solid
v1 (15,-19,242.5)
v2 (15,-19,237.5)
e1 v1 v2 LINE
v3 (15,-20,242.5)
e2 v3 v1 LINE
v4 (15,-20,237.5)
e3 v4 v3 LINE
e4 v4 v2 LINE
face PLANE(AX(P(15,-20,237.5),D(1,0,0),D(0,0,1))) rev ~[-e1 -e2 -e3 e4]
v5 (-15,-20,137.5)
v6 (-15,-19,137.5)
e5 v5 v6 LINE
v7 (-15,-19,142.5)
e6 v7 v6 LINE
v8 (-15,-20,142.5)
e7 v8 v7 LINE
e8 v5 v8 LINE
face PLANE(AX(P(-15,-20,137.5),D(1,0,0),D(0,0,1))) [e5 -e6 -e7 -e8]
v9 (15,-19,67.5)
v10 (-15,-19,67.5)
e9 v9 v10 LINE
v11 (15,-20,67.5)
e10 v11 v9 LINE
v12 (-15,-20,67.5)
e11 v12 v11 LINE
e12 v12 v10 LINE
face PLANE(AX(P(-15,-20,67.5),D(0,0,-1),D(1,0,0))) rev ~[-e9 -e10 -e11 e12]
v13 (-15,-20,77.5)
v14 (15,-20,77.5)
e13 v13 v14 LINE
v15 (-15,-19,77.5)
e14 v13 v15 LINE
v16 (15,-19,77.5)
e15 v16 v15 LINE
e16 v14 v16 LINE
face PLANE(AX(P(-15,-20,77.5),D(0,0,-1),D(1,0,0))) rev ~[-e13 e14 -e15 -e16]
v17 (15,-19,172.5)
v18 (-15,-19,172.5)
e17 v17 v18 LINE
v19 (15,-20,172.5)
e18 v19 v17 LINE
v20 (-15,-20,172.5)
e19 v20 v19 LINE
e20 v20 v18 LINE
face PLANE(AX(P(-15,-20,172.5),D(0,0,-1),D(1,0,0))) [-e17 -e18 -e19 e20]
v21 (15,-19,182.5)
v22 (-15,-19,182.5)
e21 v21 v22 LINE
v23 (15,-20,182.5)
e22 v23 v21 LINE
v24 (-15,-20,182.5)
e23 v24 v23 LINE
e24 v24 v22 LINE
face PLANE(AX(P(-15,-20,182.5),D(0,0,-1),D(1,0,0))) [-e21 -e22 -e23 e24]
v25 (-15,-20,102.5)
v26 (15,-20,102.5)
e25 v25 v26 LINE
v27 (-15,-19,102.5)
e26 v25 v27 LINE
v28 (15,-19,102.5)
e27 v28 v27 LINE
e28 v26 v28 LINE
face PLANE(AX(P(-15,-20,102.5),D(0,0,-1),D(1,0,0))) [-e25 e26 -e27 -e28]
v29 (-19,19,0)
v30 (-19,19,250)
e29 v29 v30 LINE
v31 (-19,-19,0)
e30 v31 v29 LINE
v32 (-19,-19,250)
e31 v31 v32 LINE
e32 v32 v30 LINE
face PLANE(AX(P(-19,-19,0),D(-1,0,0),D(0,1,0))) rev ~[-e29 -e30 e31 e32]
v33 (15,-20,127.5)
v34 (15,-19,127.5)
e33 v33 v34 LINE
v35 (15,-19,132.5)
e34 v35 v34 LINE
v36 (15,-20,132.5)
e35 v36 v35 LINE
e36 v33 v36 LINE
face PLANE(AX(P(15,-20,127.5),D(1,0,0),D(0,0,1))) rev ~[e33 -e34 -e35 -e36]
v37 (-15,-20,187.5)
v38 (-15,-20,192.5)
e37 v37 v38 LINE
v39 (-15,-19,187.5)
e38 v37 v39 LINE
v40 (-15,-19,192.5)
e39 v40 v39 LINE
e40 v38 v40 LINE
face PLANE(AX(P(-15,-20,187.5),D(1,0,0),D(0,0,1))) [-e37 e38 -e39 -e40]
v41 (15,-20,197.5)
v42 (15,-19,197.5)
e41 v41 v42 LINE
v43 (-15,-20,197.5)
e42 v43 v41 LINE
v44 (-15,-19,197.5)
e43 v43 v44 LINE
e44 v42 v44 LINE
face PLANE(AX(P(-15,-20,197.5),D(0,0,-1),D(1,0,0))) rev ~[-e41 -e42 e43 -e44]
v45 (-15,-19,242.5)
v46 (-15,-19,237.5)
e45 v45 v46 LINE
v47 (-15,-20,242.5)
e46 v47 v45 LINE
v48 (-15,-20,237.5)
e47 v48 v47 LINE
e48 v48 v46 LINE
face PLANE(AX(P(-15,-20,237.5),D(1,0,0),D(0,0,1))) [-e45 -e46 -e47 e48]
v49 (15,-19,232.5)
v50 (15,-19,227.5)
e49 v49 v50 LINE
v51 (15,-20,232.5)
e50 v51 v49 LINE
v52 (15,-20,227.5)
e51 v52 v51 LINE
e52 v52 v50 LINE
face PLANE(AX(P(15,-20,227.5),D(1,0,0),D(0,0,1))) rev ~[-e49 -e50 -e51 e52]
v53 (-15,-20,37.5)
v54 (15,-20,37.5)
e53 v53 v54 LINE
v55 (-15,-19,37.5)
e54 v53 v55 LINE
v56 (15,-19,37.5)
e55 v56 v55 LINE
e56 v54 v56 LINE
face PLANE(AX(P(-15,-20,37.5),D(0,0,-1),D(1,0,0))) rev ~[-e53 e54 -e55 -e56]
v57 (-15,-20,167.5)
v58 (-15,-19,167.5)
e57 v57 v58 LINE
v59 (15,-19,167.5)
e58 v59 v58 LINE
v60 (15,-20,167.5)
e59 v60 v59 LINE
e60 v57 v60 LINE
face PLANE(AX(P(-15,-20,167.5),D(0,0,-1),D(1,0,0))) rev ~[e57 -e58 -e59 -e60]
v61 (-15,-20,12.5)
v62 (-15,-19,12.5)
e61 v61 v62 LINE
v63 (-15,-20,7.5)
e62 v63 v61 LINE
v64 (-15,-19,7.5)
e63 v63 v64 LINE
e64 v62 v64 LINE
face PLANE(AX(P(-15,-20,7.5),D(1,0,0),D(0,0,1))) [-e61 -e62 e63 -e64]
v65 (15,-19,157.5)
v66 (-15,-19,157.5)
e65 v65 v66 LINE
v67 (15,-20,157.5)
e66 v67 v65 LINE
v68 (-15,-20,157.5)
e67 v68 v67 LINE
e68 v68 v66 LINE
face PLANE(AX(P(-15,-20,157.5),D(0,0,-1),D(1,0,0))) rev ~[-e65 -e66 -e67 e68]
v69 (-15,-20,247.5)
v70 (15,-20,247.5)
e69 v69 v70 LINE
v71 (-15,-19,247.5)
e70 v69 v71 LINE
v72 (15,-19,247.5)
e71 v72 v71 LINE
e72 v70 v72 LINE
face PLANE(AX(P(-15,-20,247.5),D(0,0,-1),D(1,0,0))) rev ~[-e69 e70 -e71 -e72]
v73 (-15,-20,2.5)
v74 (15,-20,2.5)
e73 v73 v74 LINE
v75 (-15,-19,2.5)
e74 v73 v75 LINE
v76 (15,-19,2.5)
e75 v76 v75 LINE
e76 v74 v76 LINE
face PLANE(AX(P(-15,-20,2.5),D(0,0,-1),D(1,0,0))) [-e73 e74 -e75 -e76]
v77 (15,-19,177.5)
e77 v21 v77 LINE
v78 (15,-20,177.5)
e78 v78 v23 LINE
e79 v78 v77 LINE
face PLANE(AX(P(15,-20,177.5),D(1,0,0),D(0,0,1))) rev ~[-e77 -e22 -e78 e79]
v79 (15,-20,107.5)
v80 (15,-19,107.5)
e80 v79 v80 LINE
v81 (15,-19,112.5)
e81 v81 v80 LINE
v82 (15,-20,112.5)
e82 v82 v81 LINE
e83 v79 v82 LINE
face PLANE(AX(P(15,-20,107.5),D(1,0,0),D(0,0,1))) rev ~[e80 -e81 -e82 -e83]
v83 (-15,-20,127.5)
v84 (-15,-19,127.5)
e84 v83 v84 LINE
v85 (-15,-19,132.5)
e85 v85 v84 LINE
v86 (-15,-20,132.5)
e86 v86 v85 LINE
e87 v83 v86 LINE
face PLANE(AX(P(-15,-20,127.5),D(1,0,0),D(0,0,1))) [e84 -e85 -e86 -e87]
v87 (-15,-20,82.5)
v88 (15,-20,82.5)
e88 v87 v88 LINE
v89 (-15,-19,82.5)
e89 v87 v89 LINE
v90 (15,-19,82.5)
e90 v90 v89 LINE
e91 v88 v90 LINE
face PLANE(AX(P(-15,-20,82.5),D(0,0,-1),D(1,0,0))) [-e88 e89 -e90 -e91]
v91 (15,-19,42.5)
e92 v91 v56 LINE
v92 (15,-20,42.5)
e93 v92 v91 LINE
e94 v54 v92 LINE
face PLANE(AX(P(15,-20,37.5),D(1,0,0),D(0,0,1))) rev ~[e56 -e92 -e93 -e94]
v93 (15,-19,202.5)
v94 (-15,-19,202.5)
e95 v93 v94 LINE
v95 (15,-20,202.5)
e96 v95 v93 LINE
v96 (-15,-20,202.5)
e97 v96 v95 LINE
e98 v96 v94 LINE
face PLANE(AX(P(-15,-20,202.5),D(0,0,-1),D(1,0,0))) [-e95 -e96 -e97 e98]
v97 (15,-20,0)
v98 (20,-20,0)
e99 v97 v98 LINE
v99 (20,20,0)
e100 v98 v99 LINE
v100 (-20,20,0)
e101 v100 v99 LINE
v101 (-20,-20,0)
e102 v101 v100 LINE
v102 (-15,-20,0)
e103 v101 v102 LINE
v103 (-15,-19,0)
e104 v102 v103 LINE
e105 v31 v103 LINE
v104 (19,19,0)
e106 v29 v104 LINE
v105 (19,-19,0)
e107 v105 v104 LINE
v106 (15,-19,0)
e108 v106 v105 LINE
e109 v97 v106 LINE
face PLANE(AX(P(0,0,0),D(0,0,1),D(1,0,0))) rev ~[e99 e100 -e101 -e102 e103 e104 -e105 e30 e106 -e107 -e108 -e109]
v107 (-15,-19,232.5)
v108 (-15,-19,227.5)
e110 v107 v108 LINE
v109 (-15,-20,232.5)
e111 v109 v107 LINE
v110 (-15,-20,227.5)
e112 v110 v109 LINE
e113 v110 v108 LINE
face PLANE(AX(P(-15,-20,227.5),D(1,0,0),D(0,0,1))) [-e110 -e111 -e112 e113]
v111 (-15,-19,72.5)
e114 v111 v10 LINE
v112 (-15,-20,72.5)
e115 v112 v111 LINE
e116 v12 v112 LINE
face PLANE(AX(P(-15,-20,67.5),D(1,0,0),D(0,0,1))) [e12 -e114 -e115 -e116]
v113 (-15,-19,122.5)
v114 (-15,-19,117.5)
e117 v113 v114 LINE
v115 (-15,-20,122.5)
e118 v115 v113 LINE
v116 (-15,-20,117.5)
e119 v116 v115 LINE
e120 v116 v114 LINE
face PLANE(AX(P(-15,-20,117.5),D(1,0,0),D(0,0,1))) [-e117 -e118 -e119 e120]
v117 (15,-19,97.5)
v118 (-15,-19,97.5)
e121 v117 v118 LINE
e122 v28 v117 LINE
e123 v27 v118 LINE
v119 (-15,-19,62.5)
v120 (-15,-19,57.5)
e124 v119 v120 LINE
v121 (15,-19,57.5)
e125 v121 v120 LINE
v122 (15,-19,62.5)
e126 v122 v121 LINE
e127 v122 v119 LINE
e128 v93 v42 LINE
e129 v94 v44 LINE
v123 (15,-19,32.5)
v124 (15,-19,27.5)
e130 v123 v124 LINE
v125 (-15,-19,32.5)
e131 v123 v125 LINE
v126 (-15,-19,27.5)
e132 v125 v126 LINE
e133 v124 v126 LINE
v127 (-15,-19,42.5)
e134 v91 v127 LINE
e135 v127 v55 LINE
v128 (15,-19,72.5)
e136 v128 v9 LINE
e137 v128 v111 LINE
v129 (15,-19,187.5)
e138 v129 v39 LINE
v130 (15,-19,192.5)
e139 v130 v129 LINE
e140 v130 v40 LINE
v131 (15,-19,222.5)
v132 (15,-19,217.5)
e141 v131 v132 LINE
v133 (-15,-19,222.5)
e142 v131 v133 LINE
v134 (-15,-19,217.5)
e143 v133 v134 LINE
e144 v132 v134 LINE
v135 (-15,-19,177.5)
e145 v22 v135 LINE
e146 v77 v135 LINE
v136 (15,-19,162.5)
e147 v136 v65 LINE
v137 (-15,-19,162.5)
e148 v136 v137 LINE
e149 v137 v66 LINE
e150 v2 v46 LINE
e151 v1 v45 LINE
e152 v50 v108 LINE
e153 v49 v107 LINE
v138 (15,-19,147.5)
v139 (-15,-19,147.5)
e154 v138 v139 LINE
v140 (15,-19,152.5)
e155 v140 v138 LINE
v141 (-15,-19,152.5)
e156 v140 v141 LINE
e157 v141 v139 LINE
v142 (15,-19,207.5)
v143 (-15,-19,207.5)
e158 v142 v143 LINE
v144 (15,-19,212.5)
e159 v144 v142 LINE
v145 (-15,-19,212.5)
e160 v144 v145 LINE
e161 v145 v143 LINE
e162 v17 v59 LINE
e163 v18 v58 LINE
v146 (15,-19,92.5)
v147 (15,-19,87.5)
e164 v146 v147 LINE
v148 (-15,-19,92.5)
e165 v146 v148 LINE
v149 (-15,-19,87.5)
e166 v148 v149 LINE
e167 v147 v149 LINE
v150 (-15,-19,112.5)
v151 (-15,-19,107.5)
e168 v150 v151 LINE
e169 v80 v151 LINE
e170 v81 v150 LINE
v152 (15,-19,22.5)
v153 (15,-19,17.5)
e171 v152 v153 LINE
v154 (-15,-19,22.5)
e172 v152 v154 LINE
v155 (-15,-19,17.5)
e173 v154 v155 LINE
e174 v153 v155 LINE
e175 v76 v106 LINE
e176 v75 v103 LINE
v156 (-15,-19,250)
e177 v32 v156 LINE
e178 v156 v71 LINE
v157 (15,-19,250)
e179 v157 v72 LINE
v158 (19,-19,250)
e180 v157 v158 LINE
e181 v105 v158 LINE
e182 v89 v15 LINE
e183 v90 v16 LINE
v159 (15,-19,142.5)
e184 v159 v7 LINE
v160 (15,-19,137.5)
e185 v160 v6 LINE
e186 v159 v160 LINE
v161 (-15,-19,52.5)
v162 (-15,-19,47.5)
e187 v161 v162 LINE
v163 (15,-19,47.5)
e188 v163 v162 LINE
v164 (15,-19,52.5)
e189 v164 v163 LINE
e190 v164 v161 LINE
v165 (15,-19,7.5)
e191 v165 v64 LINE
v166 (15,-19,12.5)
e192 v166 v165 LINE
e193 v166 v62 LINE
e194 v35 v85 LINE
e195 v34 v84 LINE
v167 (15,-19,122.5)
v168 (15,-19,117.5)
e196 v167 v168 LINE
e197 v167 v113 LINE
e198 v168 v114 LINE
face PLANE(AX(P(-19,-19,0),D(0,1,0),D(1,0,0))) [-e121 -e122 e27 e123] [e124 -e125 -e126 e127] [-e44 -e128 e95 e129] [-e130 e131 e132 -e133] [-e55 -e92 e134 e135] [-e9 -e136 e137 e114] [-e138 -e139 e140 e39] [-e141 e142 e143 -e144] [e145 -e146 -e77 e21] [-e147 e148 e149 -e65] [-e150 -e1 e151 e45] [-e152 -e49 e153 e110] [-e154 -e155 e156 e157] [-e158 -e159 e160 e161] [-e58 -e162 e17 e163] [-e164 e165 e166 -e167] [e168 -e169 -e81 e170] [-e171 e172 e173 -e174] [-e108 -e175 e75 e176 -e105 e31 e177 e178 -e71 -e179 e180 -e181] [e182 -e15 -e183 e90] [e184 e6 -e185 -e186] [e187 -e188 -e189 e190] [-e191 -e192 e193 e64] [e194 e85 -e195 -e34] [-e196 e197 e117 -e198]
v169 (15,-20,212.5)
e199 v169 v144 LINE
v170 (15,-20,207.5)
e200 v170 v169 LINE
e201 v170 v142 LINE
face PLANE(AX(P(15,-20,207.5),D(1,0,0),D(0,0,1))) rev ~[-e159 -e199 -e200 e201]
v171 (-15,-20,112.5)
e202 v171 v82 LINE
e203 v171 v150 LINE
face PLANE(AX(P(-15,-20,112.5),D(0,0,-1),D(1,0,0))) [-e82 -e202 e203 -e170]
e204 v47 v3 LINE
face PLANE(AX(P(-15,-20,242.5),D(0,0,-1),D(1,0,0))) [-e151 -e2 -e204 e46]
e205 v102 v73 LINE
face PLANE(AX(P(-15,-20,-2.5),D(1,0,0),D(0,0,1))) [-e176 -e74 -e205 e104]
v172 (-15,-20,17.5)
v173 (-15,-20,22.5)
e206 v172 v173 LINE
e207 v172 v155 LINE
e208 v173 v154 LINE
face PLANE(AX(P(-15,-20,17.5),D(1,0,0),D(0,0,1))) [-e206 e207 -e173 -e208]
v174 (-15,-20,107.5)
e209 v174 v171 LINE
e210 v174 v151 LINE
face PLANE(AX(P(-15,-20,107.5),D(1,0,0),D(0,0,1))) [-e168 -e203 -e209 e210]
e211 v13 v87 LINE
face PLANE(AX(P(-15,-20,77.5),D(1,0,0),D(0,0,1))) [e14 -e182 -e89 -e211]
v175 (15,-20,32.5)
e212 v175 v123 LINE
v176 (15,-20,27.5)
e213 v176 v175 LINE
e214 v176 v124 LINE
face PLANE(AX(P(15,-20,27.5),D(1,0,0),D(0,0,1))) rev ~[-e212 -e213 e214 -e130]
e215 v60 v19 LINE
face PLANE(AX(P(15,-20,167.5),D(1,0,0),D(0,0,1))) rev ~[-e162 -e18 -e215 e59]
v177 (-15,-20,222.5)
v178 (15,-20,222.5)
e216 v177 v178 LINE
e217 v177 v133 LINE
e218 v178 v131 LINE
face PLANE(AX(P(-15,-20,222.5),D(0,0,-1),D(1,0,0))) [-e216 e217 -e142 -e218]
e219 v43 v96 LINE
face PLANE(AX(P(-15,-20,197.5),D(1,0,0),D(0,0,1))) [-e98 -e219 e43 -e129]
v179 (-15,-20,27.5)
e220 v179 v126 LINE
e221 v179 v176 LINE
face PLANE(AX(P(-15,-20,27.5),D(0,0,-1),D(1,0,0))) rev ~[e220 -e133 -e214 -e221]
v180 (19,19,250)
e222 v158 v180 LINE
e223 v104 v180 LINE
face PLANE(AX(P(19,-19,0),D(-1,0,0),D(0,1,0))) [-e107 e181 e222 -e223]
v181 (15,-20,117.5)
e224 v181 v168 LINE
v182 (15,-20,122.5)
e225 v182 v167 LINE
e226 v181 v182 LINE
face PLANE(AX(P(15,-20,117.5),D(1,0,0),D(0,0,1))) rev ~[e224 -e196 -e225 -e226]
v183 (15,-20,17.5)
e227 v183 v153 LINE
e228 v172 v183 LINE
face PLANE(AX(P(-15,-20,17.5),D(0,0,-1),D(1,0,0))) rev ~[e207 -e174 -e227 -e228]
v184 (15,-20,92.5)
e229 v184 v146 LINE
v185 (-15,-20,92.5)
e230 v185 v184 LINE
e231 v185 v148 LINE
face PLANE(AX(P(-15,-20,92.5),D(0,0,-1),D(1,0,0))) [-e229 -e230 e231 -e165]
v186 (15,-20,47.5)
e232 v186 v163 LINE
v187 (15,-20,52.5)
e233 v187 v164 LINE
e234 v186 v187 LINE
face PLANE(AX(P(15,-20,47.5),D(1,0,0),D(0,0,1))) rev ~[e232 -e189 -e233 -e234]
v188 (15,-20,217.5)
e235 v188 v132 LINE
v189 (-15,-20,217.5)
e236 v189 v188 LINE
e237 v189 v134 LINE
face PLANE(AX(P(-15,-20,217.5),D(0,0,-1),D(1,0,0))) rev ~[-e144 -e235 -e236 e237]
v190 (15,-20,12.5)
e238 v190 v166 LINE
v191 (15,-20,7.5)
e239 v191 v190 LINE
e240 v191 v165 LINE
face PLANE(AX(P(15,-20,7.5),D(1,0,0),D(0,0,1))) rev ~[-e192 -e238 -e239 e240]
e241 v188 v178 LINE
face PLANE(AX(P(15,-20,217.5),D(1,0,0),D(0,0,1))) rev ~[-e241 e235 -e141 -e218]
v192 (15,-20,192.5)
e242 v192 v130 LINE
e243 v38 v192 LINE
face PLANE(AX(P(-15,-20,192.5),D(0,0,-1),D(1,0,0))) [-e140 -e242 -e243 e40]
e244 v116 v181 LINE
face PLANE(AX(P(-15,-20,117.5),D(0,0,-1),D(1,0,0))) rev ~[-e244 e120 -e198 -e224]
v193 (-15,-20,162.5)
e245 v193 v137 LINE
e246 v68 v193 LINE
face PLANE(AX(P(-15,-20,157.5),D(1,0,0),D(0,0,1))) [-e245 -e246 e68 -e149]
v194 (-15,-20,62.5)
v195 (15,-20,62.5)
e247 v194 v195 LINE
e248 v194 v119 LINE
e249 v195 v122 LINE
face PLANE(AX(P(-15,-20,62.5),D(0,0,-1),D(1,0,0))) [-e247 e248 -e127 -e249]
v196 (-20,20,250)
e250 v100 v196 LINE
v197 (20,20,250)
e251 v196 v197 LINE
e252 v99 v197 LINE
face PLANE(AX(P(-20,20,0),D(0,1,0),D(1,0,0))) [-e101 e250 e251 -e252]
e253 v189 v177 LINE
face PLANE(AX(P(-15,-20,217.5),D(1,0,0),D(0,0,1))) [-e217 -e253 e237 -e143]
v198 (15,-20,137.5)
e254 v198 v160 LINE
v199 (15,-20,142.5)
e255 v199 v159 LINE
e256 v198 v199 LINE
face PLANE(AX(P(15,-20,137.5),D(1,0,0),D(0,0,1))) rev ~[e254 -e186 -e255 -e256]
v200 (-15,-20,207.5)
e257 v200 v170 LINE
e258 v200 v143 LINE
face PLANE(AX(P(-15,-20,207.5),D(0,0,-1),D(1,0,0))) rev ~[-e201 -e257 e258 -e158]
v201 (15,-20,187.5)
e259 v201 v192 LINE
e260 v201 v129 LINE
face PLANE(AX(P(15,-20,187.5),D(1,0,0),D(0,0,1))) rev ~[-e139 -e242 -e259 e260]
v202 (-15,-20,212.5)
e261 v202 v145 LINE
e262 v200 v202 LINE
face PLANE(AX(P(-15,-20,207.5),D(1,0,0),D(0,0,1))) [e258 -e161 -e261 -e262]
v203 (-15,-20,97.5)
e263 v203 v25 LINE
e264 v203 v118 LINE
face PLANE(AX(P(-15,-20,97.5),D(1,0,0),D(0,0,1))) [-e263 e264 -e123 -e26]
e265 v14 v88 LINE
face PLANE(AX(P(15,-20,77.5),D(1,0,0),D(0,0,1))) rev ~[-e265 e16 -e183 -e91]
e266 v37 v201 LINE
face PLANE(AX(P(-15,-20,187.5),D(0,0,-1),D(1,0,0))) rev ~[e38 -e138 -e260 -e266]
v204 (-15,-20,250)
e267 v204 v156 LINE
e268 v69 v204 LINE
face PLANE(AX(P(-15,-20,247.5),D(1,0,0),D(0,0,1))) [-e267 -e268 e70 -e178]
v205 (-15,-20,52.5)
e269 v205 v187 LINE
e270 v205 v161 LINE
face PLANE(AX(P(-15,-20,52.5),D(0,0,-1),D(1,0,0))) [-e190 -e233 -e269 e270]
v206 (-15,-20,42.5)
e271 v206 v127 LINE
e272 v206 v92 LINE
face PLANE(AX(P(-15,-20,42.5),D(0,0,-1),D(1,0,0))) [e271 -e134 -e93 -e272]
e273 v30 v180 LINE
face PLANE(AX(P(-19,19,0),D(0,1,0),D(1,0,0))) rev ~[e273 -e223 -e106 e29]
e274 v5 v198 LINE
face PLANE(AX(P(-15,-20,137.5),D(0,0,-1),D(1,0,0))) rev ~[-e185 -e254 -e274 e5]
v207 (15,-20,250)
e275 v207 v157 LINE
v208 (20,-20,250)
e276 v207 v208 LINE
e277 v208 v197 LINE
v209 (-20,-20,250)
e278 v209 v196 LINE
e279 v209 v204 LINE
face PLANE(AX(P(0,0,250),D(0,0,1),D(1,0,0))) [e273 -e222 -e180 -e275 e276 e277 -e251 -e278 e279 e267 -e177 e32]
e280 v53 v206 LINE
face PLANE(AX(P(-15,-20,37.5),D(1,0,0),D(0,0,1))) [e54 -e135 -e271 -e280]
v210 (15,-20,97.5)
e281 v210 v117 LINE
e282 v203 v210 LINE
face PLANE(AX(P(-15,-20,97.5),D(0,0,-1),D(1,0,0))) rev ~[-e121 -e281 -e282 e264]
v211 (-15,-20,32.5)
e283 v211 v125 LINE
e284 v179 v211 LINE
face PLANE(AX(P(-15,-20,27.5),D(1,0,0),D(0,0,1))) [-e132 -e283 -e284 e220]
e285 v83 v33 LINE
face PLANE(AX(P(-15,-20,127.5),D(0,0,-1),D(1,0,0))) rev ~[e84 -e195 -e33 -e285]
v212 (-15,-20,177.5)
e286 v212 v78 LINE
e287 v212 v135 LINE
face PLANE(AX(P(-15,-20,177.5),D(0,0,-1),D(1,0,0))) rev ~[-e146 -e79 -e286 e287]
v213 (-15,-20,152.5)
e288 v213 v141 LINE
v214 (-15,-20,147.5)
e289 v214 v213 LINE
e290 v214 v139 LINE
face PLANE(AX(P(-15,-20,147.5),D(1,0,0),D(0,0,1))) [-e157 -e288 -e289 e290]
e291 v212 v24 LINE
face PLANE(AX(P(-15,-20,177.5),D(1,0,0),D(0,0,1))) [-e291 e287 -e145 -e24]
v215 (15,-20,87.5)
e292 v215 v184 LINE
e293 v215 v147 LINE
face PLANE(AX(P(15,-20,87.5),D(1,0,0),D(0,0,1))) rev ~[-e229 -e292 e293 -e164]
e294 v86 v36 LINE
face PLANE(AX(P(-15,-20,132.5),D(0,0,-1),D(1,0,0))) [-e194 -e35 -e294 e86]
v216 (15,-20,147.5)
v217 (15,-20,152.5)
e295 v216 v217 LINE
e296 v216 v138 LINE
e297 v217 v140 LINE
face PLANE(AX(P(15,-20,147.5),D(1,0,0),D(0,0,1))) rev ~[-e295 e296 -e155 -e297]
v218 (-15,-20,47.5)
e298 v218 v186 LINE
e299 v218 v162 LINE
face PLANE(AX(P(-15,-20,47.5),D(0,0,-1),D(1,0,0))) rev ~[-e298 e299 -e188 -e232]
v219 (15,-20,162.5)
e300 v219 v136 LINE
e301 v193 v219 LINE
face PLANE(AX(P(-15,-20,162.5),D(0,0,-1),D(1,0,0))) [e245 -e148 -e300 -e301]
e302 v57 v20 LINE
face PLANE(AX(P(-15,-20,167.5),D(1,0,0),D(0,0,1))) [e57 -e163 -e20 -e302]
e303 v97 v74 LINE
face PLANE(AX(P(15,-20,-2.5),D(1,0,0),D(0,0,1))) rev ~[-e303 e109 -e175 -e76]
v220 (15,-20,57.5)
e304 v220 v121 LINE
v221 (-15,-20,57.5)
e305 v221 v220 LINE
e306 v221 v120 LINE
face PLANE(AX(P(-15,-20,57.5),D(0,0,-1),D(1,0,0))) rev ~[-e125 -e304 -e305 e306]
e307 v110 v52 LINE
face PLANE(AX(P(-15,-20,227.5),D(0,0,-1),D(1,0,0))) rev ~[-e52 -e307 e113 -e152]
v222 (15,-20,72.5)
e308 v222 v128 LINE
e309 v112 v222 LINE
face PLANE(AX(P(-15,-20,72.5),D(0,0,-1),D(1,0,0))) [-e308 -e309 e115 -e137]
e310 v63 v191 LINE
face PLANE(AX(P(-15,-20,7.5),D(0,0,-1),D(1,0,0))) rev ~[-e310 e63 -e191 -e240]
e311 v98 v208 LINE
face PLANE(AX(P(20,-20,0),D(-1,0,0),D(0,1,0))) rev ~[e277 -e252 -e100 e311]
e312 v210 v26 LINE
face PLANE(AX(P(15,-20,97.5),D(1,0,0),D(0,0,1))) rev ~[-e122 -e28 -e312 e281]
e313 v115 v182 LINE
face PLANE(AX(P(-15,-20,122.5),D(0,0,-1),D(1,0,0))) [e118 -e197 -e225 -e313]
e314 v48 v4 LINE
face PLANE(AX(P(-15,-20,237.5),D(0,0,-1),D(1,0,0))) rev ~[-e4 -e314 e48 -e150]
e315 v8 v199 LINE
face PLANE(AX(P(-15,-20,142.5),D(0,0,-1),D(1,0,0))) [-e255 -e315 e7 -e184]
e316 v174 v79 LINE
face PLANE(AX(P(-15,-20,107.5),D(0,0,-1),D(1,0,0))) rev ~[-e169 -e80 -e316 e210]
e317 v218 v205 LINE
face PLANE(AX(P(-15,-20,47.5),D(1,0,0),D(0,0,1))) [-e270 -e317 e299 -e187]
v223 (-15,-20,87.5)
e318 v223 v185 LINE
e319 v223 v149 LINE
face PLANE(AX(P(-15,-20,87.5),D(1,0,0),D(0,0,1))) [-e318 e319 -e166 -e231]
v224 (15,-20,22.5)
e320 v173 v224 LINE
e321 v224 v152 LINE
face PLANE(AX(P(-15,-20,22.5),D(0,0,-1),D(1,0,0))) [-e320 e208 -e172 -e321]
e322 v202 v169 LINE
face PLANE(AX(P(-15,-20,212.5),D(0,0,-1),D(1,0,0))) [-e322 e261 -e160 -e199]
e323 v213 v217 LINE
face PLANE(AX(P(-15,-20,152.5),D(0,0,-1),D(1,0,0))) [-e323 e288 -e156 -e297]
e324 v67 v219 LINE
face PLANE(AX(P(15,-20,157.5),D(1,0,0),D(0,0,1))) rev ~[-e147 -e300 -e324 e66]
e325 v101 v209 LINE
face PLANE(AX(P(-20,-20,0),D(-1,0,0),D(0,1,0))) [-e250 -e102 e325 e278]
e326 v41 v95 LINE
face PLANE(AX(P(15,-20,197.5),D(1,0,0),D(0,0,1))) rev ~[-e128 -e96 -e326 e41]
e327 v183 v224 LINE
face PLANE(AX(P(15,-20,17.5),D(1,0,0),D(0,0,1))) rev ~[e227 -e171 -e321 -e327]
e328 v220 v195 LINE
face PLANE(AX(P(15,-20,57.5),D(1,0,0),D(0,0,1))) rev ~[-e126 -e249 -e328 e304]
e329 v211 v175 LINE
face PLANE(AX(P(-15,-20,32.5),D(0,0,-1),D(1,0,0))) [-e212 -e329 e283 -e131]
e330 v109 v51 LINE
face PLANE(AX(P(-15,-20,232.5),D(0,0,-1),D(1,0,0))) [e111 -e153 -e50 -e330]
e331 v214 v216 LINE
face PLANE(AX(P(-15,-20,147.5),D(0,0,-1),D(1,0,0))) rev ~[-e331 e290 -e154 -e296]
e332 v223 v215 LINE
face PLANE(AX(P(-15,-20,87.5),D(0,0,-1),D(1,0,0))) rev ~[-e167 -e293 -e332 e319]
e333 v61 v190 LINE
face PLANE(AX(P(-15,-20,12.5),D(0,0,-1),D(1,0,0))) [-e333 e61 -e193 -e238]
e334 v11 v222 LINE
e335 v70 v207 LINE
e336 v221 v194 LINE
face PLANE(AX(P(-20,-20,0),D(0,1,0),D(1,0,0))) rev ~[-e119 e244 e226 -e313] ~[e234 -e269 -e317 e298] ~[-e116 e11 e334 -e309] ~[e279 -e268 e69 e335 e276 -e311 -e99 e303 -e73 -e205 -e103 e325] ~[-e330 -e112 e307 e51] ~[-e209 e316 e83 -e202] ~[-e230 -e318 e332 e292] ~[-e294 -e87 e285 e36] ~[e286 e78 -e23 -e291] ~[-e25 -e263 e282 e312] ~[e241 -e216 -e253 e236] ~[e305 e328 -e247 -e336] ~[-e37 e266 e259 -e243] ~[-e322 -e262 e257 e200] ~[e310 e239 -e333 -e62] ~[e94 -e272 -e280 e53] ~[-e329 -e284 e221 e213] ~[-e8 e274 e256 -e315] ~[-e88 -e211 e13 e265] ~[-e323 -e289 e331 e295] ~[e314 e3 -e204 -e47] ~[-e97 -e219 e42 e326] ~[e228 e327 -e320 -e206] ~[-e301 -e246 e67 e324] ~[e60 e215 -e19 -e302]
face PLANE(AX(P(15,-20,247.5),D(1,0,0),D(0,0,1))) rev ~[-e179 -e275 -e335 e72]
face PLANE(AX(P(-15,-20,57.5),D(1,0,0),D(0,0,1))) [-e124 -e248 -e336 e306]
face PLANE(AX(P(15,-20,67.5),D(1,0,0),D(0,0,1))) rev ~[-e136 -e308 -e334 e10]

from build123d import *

# Parameters (mm, degrees)
F0_W     = 40
F0_H     = 40
F0_W_2   = 38
F0_H_2   = 38
F1_DEPTH = 250
F2_W     = 30
F2_H     = 5
F3_DEPTH = 25


with BuildPart() as f1:
    # F0 (on Top) → F1 (new body)
    with BuildSketch(Plane.XY):
        Rectangle(F0_W, F0_H)
        Rectangle(F0_W_2, F0_H_2, mode=Mode.SUBTRACT)
    extrude(amount=F1_DEPTH)

    # F2 (on face) → F3 (cut)
    with BuildSketch(Plane.XZ.offset(20)):
        Rectangle(F2_W, F2_H)
        with Locations((0, 10)):
            Rectangle(F2_W, F2_H)
        with Locations((0, 20)):
            Rectangle(F2_W, F2_H)
        with Locations((0, 30)):
            Rectangle(F2_W, F2_H)
        with Locations((0, 40)):
            Rectangle(F2_W, F2_H)
        with Locations((0, 50)):
            Rectangle(F2_W, F2_H)
        with Locations((0, 60)):
            Rectangle(F2_W, F2_H)
        with Locations((0, 70)):
            Rectangle(F2_W, F2_H)
        with Locations((0, 80)):
            Rectangle(F2_W, F2_H)
        with Locations((0, 90)):
            Rectangle(F2_W, F2_H)
        with Locations((0, 100)):
            Rectangle(F2_W, F2_H)
        with Locations((0, 110)):
            Rectangle(F2_W, F2_H)
        with Locations((0, 120)):
            Rectangle(F2_W, F2_H)
        with Locations((0, 130)):
            Rectangle(F2_W, F2_H)
        with Locations((0, 140)):
            Rectangle(F2_W, F2_H)
        with Locations((0, 150)):
            Rectangle(F2_W, F2_H)
        with Locations((0, 160)):
            Rectangle(F2_W, F2_H)
        with Locations((0, 170)):
            Rectangle(F2_W, F2_H)
        with Locations((0, 180)):
            Rectangle(F2_W, F2_H)
        with Locations((0, 190)):
            Rectangle(F2_W, F2_H)
        with Locations((0, 200)):
            Rectangle(F2_W, F2_H)
        with Locations((0, 210)):
            Rectangle(F2_W, F2_H)
        with Locations((0, 220)):
            Rectangle(F2_W, F2_H)
        with Locations((0, 230)):
            Rectangle(F2_W, F2_H)
        with Locations((0, 240)):
            Rectangle(F2_W, F2_H)
        with Locations((0, 250)):
            Rectangle(F2_W, F2_H)
        with Locations((0, 260)):
            Rectangle(F2_W, F2_H)
        with Locations((0, 270)):
            Rectangle(F2_W, F2_H)
        with Locations((0, 280)):
            Rectangle(F2_W, F2_H)
        with Locations((0, 290)):
            Rectangle(F2_W, F2_H)
    extrude(amount=-F3_DEPTH, mode=Mode.SUBTRACT)


solid = f1.part
